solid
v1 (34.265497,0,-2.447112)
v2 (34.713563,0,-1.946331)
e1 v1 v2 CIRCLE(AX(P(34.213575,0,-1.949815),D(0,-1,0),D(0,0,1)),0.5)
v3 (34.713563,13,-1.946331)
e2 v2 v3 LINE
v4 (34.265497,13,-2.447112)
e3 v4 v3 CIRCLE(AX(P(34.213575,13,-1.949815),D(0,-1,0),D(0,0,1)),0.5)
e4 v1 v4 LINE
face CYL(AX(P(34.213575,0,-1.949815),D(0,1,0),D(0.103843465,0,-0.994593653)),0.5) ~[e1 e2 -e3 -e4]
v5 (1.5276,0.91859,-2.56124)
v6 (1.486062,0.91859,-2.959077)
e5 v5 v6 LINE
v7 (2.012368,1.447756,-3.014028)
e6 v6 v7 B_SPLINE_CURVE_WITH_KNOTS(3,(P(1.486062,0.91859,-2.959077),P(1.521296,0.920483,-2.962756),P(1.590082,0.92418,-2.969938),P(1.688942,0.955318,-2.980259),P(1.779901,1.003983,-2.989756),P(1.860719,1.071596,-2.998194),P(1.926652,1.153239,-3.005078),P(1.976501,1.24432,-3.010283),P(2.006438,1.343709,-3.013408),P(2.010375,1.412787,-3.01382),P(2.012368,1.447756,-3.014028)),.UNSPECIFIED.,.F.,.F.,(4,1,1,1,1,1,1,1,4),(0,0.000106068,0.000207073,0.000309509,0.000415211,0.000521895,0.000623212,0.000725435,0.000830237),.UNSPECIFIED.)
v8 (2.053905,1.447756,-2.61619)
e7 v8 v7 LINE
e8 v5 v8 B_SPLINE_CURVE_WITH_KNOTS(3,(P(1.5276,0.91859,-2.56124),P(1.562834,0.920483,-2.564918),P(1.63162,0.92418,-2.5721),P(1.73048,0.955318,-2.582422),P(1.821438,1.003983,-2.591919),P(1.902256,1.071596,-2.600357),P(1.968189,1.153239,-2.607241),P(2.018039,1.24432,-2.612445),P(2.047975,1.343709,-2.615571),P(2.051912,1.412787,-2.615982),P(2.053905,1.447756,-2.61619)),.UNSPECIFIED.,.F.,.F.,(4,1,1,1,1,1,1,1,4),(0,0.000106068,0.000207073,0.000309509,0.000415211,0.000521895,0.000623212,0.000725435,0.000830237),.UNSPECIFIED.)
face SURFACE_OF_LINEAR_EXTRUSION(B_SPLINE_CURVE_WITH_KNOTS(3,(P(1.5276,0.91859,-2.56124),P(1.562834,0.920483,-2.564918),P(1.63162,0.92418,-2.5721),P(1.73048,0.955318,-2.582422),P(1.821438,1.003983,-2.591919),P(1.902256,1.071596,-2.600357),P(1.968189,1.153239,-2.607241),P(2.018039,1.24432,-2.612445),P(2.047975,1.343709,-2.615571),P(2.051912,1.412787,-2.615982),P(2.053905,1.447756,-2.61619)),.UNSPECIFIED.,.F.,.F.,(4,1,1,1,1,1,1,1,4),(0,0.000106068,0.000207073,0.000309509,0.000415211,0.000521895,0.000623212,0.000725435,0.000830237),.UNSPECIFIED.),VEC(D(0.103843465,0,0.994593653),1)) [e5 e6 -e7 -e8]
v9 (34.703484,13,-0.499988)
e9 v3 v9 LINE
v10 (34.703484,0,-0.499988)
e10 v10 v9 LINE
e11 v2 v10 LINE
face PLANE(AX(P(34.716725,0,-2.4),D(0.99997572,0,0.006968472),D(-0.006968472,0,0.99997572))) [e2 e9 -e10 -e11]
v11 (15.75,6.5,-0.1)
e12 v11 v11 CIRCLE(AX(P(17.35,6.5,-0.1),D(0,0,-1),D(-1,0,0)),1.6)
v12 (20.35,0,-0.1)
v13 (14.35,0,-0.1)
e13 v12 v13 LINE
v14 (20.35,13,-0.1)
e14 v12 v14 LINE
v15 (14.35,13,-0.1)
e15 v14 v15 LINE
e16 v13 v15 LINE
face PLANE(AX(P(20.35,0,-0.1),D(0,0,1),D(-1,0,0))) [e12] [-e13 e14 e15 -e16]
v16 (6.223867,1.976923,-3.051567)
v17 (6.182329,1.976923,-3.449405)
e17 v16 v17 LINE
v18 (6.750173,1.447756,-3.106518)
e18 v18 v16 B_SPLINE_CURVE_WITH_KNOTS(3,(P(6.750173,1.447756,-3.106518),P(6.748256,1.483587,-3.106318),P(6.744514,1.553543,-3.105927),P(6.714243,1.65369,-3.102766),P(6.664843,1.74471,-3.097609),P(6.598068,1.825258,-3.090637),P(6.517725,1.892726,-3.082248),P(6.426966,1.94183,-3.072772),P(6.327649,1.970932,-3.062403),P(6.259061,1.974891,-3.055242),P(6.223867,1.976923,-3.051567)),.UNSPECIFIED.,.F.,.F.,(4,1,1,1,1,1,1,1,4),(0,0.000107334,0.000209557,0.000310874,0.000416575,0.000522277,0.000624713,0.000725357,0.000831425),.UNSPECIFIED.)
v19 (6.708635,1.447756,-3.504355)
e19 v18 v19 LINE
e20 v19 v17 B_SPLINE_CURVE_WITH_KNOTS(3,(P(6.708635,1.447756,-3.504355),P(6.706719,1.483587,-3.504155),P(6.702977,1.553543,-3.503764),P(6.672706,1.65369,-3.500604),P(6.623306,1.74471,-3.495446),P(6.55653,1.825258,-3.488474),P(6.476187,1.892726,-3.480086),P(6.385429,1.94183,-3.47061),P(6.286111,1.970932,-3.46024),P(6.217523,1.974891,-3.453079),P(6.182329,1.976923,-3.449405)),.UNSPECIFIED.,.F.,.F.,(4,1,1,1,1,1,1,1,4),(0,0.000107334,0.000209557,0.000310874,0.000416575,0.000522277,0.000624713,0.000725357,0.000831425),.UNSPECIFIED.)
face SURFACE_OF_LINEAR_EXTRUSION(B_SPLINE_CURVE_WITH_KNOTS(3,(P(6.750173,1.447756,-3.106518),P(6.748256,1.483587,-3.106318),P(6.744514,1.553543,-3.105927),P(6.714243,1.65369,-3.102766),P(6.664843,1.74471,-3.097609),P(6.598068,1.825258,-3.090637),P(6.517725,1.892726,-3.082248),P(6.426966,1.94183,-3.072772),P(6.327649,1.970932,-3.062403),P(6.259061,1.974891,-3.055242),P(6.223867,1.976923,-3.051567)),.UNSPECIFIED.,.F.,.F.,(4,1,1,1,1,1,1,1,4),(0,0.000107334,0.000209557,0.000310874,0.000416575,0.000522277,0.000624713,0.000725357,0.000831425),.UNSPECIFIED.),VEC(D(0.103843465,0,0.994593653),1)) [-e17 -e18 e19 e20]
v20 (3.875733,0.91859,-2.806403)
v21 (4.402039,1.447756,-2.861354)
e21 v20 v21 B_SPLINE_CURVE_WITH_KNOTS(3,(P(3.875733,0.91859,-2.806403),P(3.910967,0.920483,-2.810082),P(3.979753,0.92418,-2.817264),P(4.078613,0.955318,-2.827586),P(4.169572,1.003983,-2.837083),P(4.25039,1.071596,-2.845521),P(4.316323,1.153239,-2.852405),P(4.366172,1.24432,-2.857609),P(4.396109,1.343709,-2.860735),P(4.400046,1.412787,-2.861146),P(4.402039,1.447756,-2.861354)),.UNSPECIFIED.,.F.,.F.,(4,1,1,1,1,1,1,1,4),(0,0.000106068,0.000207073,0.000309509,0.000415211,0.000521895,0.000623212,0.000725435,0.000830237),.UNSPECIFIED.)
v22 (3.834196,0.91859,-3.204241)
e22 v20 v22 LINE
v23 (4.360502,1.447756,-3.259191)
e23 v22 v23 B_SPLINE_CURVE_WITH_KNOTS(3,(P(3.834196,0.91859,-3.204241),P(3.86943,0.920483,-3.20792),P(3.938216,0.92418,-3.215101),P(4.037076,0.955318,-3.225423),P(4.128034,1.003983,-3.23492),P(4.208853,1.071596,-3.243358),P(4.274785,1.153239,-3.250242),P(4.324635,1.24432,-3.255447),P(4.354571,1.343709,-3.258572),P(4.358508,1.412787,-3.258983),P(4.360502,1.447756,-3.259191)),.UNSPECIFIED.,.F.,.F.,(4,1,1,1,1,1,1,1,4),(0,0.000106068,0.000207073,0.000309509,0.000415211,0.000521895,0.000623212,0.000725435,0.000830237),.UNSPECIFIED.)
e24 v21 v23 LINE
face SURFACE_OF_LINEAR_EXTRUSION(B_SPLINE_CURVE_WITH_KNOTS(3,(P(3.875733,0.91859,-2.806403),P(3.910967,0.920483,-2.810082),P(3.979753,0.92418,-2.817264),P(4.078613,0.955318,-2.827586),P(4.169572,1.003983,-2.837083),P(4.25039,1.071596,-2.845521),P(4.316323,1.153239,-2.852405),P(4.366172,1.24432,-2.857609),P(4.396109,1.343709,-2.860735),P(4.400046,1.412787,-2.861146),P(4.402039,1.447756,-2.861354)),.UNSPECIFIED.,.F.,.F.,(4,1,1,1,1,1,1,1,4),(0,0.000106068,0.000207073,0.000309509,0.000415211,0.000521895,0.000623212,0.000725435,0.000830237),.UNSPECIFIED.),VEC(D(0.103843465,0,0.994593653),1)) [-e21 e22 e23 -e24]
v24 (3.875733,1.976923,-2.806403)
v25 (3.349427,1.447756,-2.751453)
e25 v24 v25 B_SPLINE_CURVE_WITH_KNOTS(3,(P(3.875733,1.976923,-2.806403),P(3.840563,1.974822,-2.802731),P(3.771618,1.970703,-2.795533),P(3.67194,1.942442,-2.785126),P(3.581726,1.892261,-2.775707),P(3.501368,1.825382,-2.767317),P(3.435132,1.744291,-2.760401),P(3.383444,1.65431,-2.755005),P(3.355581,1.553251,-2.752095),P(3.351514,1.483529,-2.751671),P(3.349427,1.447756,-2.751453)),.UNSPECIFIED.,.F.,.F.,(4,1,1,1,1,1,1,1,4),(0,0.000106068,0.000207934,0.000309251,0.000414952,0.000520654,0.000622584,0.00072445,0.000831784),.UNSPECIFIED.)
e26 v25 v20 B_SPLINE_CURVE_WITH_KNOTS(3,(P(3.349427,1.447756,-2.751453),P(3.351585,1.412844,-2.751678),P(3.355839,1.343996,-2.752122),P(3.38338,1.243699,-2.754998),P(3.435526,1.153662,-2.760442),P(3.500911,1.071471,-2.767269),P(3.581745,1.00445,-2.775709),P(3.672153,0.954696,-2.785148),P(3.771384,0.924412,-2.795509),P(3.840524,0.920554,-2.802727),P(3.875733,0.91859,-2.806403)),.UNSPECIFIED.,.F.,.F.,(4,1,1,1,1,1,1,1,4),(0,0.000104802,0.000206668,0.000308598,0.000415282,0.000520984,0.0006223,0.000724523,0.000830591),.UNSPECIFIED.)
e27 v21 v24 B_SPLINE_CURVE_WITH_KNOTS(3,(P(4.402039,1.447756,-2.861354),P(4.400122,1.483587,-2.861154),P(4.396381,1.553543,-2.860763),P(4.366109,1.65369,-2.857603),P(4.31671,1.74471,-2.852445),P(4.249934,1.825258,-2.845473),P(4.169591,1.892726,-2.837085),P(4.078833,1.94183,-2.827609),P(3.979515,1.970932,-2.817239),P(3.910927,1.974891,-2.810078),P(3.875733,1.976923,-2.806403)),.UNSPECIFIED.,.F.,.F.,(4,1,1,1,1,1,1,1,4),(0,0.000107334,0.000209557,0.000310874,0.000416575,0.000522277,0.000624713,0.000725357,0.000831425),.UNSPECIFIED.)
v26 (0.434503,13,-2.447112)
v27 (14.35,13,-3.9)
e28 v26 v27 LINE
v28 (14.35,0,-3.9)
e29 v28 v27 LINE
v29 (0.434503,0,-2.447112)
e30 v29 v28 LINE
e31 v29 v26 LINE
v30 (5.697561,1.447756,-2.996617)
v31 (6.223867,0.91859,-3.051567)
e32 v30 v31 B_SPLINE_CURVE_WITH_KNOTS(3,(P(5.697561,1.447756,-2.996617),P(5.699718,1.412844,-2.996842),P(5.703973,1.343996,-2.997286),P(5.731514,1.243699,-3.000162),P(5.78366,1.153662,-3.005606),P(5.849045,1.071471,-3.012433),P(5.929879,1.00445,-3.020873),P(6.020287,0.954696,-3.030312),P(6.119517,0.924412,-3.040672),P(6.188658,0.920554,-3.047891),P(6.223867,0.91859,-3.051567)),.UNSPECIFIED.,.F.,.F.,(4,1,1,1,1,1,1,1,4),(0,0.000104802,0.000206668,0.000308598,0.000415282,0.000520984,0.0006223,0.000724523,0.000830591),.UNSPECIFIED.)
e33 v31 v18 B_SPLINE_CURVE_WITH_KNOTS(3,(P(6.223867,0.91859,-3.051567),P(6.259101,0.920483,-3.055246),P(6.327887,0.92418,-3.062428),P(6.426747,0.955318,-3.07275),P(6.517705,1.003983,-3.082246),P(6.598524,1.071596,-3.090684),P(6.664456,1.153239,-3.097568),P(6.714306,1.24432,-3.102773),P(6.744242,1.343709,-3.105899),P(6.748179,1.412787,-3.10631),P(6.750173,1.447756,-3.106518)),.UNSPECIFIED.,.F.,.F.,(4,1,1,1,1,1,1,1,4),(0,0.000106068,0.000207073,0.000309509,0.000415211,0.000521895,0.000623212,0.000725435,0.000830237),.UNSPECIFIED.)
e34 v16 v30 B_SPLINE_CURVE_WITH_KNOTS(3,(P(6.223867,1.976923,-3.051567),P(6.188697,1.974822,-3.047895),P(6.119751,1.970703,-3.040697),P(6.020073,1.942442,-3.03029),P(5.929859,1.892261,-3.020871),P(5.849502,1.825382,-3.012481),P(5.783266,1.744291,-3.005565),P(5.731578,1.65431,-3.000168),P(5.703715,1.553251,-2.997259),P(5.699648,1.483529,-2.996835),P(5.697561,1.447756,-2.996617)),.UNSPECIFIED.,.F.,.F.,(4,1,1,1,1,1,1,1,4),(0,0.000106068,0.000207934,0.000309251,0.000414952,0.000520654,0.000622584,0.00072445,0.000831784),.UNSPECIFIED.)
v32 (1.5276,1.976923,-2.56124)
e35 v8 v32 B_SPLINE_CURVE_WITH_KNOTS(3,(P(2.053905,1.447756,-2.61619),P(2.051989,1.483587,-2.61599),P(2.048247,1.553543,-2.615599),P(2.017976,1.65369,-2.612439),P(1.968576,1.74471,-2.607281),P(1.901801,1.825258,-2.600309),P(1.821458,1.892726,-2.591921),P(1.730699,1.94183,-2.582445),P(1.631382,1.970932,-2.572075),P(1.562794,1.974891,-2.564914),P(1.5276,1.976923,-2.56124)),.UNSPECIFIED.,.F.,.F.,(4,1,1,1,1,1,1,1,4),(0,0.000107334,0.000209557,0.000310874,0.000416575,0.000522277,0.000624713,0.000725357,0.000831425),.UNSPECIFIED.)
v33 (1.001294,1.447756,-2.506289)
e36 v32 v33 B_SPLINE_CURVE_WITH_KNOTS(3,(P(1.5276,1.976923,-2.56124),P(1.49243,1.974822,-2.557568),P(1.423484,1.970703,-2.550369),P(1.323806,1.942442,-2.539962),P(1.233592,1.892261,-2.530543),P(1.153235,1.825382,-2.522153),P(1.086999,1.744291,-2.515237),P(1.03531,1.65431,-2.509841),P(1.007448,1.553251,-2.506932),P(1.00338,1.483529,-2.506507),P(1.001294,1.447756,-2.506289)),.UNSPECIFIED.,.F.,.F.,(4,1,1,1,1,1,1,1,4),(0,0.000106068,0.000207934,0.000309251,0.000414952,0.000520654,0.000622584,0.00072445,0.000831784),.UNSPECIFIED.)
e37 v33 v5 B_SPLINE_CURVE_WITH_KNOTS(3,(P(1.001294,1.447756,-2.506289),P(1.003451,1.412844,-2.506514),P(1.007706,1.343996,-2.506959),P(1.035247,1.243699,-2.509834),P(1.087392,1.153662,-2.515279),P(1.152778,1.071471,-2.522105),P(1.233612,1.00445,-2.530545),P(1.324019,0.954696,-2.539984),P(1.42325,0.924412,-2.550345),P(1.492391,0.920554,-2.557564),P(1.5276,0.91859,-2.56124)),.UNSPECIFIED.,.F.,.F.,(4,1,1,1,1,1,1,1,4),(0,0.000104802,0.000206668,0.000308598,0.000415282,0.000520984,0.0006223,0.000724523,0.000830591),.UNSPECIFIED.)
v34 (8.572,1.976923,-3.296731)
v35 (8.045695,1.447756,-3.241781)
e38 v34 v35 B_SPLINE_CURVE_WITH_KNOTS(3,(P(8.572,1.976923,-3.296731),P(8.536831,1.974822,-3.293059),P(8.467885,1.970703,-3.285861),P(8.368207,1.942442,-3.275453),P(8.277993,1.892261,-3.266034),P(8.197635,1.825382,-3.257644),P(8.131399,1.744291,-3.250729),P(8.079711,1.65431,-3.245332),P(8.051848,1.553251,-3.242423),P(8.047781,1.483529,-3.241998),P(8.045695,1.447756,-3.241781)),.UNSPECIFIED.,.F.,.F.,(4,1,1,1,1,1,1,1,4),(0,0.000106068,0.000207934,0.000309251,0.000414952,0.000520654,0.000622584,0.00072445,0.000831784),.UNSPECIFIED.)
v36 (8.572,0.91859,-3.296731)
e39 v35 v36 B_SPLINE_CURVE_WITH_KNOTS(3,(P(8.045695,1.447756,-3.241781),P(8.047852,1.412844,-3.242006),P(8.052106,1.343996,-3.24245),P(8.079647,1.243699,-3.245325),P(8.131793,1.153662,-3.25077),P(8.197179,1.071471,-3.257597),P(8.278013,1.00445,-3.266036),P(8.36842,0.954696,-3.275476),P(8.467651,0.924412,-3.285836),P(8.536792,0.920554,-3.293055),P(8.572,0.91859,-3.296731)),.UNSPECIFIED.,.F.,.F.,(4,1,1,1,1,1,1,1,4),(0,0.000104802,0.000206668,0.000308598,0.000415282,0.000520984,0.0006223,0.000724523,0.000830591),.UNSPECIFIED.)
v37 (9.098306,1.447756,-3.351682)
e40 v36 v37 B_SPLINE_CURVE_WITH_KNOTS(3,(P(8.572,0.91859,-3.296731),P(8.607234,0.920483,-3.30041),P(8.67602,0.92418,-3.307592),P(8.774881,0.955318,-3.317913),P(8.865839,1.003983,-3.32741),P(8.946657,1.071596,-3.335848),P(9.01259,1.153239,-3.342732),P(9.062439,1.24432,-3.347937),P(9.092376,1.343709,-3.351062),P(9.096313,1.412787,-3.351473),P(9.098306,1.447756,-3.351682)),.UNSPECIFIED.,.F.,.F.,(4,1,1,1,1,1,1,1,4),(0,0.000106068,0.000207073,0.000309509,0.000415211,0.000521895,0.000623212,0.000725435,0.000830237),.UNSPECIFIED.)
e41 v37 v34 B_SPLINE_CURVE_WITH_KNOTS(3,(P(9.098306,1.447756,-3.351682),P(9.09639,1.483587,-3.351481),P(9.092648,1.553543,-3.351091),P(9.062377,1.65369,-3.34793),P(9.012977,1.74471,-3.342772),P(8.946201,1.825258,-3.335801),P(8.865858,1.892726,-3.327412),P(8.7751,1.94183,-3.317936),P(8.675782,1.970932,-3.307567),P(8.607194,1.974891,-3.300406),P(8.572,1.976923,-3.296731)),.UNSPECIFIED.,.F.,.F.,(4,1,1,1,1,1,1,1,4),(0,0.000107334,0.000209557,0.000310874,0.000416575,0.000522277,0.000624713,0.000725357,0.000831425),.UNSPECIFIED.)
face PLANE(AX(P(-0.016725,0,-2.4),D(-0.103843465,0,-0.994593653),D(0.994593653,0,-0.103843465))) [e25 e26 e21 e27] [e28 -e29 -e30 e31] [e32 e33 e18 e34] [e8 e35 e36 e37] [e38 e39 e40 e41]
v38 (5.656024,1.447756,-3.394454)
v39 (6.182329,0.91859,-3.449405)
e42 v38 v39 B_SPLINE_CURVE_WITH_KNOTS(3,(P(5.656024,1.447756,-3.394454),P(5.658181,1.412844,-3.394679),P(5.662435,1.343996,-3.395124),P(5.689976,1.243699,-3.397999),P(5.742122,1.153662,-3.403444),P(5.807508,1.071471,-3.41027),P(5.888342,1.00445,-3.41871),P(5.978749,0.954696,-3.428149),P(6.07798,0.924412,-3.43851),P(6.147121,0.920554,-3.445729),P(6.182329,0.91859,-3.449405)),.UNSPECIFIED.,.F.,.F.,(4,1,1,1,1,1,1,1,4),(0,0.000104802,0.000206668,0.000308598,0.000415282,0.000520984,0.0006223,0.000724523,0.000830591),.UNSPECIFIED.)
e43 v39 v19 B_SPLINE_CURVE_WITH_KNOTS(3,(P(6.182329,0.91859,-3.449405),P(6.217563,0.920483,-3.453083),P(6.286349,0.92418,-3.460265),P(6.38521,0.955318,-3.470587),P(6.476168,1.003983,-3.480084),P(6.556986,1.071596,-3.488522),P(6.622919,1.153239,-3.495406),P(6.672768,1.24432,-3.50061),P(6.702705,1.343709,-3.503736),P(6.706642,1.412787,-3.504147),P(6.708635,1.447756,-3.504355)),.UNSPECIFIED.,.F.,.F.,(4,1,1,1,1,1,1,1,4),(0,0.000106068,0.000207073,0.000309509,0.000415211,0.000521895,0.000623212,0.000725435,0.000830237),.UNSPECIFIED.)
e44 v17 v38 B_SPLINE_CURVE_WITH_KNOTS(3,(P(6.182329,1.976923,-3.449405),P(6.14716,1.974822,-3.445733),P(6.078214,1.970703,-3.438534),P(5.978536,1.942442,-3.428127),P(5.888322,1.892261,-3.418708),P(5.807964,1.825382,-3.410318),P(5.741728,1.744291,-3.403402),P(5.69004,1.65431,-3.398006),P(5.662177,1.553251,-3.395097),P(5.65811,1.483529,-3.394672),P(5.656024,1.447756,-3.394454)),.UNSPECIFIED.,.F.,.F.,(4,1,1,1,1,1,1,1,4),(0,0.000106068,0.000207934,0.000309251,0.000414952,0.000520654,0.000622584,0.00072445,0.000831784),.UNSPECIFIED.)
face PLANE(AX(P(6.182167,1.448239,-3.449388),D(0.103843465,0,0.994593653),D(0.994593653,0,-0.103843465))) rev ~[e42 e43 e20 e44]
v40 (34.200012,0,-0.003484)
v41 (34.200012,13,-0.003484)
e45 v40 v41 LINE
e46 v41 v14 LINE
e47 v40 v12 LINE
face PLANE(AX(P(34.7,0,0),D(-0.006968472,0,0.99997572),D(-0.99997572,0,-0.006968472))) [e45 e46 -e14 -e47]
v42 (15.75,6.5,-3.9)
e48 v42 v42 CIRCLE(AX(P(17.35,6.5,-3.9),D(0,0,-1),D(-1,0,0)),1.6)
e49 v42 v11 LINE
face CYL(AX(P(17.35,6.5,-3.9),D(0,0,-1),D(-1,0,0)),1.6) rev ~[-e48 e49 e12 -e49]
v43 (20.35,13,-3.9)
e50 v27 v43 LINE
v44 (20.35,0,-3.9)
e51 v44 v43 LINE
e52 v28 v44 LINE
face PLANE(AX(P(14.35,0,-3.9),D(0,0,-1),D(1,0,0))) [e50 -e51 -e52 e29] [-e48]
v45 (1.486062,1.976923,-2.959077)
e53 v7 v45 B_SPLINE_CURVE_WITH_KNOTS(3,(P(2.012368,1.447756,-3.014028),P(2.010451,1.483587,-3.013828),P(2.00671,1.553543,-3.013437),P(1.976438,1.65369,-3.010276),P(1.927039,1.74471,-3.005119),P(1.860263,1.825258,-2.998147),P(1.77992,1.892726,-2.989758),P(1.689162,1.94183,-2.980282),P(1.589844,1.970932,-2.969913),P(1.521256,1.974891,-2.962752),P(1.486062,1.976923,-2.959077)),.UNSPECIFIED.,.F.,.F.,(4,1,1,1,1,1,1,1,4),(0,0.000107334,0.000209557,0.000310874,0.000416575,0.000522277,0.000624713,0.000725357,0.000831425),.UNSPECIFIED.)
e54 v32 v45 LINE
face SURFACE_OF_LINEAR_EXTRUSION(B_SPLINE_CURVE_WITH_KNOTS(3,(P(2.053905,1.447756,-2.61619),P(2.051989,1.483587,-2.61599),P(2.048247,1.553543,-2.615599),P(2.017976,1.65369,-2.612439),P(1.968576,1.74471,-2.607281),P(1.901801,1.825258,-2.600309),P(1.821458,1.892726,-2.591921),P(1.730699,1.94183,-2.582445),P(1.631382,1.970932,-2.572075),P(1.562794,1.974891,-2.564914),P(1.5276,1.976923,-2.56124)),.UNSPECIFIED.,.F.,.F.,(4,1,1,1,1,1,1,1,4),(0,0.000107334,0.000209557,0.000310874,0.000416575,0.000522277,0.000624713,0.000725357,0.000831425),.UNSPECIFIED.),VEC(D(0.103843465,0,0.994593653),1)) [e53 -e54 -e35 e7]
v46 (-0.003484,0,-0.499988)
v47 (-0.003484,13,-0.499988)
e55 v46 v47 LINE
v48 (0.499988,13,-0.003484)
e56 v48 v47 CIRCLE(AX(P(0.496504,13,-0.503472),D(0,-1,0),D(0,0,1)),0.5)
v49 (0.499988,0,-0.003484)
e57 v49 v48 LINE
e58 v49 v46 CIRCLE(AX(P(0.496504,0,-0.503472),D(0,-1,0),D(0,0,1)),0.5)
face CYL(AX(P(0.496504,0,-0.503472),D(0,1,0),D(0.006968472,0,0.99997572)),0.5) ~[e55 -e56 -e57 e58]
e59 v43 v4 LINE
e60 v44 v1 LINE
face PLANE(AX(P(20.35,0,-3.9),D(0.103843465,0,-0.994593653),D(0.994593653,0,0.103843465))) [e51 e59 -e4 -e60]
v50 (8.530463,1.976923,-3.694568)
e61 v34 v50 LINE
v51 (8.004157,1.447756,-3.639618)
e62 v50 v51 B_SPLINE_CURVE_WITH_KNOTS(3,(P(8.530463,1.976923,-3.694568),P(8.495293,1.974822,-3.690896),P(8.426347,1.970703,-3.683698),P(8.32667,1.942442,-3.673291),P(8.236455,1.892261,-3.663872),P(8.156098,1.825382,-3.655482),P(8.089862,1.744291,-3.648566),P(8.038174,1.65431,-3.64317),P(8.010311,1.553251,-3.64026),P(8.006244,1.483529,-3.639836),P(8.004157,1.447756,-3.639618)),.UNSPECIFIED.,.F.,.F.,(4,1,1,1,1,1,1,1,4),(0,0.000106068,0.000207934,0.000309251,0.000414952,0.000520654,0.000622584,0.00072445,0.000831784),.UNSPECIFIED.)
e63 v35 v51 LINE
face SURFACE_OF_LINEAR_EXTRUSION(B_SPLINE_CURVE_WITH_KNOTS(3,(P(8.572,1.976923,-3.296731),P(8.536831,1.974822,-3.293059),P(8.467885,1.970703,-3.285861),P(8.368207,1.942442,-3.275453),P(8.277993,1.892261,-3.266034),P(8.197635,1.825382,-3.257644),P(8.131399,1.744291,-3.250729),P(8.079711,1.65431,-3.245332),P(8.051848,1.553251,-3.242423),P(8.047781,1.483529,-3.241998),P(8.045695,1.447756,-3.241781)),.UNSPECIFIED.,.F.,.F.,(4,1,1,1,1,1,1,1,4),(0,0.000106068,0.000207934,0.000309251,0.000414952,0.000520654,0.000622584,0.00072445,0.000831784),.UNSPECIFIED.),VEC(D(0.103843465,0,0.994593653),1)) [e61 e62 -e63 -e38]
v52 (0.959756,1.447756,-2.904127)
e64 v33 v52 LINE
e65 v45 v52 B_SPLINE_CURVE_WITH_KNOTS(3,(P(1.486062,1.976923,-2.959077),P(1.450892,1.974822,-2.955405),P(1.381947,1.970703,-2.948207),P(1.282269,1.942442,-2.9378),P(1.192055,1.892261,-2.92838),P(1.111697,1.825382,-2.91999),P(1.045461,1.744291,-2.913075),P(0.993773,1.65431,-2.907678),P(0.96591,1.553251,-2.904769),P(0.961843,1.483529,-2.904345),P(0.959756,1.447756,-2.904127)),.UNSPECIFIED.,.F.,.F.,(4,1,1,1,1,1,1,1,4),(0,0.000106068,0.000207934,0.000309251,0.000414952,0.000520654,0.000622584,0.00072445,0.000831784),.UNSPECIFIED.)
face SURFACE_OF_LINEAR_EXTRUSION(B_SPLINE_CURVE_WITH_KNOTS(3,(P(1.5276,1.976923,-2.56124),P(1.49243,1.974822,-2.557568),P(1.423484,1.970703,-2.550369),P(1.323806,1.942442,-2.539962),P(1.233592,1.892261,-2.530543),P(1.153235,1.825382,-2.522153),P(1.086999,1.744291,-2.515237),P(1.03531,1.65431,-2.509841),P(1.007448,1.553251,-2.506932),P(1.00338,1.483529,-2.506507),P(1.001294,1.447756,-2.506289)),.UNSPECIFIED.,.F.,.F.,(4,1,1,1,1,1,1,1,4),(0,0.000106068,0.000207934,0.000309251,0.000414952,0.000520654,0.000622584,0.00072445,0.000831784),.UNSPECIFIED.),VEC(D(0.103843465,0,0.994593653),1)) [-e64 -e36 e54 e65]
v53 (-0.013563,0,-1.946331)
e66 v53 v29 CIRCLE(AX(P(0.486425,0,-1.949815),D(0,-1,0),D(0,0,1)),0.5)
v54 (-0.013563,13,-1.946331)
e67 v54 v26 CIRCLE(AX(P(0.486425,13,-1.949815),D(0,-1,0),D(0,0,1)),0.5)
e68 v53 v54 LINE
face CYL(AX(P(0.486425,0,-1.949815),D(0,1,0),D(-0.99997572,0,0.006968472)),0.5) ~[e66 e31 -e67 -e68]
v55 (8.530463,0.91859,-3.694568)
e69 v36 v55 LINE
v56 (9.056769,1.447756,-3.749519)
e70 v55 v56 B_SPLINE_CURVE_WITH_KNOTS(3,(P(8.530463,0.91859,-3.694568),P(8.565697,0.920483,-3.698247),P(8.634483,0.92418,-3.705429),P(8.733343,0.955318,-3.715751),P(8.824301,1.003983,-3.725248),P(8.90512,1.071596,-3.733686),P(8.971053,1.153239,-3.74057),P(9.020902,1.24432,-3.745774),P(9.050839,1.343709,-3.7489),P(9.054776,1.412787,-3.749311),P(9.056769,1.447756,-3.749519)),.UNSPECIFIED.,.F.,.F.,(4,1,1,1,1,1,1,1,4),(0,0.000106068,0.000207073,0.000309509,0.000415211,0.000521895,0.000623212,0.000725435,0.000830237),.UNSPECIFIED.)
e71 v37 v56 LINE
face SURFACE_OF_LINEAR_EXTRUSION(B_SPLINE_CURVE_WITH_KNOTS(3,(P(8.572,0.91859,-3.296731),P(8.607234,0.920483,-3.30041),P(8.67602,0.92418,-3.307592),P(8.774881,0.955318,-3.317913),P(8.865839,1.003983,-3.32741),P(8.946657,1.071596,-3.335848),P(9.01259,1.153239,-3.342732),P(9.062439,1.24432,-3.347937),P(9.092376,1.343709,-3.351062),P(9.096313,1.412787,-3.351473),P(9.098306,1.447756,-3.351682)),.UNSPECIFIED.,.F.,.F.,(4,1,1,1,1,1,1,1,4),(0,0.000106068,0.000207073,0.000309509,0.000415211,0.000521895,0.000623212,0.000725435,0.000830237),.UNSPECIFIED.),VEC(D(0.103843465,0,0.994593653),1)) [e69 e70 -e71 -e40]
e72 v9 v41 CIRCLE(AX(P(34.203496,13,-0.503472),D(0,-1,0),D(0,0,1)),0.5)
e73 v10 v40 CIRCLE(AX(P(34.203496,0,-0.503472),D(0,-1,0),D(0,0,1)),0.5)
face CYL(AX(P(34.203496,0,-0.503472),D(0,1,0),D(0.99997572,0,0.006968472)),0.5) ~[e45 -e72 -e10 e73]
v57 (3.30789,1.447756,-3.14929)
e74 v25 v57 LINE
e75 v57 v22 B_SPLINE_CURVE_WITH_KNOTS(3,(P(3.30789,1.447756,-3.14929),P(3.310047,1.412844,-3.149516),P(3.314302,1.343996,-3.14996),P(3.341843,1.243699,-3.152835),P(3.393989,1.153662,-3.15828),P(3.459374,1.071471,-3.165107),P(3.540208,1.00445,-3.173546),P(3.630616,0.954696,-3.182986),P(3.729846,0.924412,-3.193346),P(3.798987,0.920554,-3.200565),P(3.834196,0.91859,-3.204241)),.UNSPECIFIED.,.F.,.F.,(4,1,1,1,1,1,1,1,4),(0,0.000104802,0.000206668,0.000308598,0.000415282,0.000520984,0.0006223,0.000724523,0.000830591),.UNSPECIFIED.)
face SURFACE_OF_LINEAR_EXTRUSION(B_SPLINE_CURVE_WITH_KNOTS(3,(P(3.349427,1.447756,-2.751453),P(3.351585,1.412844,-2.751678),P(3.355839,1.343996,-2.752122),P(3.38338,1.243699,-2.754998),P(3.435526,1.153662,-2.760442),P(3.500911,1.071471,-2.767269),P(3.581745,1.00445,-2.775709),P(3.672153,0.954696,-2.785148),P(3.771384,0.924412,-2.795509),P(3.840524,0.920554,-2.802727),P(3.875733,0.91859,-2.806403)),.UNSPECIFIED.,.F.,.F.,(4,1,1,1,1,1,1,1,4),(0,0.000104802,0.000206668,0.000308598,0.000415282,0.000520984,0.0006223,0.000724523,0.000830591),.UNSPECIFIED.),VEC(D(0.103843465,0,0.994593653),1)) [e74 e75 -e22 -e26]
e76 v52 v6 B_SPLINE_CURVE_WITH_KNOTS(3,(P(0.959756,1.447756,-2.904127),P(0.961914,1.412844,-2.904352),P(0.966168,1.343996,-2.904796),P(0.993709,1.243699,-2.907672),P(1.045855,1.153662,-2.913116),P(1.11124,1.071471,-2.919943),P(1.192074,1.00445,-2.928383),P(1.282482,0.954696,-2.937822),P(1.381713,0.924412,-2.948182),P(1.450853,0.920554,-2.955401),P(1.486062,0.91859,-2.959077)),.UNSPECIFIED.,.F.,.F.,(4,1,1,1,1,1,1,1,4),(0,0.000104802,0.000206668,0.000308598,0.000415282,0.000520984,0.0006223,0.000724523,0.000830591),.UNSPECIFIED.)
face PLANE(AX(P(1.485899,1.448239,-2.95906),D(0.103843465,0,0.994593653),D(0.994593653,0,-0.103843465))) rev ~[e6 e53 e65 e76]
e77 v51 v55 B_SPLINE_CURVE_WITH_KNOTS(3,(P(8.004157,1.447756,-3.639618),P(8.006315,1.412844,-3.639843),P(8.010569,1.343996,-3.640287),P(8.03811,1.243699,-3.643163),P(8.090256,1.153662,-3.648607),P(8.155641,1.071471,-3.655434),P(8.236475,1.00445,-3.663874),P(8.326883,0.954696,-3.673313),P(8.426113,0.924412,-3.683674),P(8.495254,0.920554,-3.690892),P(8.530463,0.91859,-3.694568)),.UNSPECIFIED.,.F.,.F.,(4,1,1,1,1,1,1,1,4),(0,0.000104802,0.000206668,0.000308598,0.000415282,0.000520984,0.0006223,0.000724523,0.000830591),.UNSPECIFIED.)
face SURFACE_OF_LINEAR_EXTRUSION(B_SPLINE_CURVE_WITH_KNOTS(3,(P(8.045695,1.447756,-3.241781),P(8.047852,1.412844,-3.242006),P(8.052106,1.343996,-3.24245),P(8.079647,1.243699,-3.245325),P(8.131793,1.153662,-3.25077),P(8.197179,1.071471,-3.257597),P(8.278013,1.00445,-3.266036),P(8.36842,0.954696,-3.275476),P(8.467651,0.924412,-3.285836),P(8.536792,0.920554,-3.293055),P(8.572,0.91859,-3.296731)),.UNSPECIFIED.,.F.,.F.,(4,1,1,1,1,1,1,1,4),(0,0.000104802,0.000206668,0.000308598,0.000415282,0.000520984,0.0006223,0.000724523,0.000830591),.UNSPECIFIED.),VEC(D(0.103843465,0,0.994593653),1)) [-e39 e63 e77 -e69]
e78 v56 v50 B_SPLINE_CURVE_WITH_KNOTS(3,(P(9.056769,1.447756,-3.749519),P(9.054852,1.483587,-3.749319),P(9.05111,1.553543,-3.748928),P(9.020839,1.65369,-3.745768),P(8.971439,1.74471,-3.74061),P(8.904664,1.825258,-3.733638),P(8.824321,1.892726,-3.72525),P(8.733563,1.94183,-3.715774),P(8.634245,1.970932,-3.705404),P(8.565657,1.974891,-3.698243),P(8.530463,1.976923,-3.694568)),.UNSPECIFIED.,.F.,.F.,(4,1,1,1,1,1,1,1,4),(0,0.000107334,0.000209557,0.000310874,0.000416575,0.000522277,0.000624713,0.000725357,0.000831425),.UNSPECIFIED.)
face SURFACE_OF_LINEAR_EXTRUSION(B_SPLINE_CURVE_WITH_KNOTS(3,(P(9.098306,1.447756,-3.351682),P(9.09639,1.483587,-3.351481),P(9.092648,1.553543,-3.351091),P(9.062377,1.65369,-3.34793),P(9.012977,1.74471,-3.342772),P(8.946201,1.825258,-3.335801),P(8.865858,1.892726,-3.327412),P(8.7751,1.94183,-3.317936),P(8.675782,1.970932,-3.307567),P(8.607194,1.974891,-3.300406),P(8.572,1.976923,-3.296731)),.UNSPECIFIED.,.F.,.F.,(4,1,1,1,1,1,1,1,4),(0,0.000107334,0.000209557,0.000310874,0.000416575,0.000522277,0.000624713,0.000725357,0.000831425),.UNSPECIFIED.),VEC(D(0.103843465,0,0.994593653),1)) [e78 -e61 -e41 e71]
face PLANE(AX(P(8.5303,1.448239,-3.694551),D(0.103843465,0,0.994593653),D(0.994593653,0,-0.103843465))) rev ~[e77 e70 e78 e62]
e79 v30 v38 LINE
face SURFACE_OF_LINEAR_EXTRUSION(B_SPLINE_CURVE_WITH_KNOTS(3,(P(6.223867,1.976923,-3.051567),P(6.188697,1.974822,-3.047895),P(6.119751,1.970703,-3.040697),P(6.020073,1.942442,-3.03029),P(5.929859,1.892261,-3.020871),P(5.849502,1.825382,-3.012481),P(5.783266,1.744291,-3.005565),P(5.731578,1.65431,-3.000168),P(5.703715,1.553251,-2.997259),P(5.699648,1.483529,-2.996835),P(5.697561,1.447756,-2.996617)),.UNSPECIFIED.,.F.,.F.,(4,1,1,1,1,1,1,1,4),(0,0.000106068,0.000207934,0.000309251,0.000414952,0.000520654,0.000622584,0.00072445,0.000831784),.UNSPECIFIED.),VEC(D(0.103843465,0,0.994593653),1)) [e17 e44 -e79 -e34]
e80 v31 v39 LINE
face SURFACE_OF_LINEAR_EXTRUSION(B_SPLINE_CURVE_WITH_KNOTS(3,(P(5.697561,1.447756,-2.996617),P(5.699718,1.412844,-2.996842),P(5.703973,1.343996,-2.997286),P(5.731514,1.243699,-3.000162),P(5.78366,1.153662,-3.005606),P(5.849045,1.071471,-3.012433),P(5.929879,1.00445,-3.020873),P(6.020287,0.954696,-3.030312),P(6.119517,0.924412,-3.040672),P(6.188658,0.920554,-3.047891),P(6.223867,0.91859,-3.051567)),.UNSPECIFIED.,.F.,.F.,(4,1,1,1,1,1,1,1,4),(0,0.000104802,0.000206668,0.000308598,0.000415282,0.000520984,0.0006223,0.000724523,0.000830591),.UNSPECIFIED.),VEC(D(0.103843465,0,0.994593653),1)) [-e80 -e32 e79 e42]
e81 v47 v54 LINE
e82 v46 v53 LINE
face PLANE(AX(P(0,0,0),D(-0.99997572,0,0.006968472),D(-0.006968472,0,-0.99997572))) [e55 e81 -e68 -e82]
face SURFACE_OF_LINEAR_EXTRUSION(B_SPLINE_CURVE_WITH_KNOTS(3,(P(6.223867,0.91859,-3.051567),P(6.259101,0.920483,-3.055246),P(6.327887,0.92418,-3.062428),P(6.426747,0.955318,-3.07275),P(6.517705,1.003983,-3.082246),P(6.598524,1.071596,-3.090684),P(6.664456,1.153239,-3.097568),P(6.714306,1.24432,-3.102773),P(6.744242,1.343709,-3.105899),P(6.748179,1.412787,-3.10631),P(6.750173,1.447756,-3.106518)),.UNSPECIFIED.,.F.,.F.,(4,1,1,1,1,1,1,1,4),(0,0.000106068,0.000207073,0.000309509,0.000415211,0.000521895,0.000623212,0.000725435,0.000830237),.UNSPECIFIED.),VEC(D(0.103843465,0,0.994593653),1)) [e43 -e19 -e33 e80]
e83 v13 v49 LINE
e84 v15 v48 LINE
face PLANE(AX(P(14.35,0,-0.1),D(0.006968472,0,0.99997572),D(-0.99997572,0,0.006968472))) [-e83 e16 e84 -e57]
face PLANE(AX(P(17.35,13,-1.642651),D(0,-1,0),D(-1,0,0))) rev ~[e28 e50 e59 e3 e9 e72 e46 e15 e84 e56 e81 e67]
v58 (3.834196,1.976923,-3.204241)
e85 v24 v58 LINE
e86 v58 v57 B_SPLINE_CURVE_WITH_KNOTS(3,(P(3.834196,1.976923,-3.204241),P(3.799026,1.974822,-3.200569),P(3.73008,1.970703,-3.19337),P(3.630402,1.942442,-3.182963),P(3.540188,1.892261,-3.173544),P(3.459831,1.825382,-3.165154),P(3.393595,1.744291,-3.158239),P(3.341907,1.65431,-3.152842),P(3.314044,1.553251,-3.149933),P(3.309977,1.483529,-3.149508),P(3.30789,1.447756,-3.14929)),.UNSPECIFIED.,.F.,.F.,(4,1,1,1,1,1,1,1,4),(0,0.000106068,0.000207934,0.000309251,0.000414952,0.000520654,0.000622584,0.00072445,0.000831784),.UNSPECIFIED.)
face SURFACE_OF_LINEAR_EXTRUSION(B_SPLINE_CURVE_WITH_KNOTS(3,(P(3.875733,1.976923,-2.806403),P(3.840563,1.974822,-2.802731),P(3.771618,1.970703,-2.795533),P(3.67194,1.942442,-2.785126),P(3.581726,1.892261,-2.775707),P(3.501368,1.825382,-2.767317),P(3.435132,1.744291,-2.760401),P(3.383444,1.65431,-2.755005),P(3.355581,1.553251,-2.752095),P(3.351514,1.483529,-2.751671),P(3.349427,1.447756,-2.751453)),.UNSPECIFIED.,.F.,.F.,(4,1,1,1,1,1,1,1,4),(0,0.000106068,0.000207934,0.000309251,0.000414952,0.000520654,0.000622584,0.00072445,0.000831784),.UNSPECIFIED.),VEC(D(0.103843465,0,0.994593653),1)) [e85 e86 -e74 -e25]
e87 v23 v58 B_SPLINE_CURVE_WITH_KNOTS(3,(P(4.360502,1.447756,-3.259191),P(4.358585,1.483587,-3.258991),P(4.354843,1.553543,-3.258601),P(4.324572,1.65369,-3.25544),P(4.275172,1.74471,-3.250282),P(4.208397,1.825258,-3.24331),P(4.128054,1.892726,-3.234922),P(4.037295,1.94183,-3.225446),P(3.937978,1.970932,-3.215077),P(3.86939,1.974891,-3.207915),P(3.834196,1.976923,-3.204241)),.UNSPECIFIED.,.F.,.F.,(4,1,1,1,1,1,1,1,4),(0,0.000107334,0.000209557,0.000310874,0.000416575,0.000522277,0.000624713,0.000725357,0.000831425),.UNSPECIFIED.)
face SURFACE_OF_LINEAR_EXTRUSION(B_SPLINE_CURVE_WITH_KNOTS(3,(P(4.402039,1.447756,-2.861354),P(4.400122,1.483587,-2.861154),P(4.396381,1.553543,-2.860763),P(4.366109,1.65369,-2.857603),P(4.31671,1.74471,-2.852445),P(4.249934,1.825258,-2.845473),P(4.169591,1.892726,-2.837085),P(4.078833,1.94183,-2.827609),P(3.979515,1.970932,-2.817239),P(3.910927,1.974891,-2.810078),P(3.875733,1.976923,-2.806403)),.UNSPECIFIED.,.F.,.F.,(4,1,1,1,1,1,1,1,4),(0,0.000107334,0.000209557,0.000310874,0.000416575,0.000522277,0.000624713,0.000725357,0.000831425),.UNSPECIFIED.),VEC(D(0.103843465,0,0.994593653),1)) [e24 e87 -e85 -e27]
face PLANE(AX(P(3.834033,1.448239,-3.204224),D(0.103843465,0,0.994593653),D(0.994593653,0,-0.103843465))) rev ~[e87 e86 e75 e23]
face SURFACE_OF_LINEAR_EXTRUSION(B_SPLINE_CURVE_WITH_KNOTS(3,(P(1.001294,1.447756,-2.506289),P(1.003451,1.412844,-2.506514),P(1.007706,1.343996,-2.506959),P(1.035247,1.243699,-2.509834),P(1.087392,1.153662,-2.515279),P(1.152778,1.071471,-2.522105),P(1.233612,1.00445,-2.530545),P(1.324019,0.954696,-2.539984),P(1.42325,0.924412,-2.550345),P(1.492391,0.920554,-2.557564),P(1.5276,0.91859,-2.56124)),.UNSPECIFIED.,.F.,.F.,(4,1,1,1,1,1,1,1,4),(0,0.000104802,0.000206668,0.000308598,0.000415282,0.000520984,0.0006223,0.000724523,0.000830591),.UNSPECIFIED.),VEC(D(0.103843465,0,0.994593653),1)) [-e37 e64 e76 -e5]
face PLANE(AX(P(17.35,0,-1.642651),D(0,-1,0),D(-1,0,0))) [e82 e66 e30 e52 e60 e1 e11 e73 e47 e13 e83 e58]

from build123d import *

# Parameters (mm, degrees)
BOSS_EXTRUDE1_DEPTH       = 13
FILLET2_R                 = 0.5
SKETCH2_R                 = 1.6
CUT_EXTRUDE1_DEPTH        = 4.896527904
REVISION_INDICATION_DEPTH = 0.4


with BuildPart() as part:
    # Sketch1 → Boss-Extrude1 (new body)
    with BuildSketch(Plane(origin=(0, 0, 0), x_dir=(1, 0, 0), z_dir=(0, 1, 0))):
        Polygon((20.35, 0.1), (14.35, 0.1), (0, 0), (-0.016724739, 2.4), (14.35, 3.9), (20.35, 3.9), (34.716724739, 2.4), (34.7, 0), align=None)
    extrude(amount=BOSS_EXTRUDE1_DEPTH)

    # Fillet2
    fillet2_edges = [part.edges().sort_by_distance(p)[0] for p in [
        (-0.016724739, 6.5, -2.4),
        (34.716724739, 6.5, -2.4),
        (34.7, 6.5, 0),
        (0, 6.5, 0),
    ]]
    fillet(fillet2_edges, radius=FILLET2_R)

    # Sketch2 → Cut-Extrude1 (cut, through all)
    with BuildSketch(Plane(origin=(0, 0, -3.9), x_dir=(-1, 0, 0), z_dir=(0, 0, -1))):
        with Locations((-17.35, 6.5)):
            Circle(SKETCH2_R)
    extrude(amount=-CUT_EXTRUDE1_DEPTH, mode=Mode.SUBTRACT)

    # Sketch5 → revision indication (add)
    with BuildSketch(Plane(origin=(-0.248057274, 0, -2.375847049), x_dir=(-0.994593653, 0, 0.103843465), z_dir=(-0.103843465, 0, -0.994593653))):
        with BuildLine():
            add(Edge.make_bspline(
                [(-1.785308798, 1.976923077), (-1.749947985, 1.974821832), (-1.680627244, 1.970702586), (-1.580407683, 1.942442049), (-1.489703086, 1.892261337), (-1.40890887, 1.825381725), (-1.342312834, 1.744291021), (-1.290343795, 1.654309873), (-1.262329436, 1.553251269), (-1.258240196, 1.483528859), (-1.256142132, 1.44775641)],
                knots=[0, 0, 0, 0, 0.000106068, 0.000207934, 0.000309251, 0.000414952, 0.000520654, 0.000622584, 0.00072445, 0.000831784, 0.000831784, 0.000831784, 0.000831784], degree=3))
            add(Edge.make_bspline(
                [(-1.256142132, 1.44775641), (-1.258311293, 1.412843512), (-1.262588847, 1.343995789), (-1.290279579, 1.243699421), (-1.342708899, 1.153662038), (-1.408449529, 1.071471016), (-1.489723058, 1.004449722), (-1.580622123, 0.954695939), (-1.680391977, 0.924411918), (-1.749908735, 0.920554208), (-1.785308798, 0.918589744)],
                knots=[0, 0, 0, 0, 0.000104802, 0.000206668, 0.000308598, 0.000415282, 0.000520984, 0.0006223, 0.000724523, 0.000830591, 0.000830591, 0.000830591, 0.000830591], degree=3))
            add(Edge.make_bspline(
                [(-1.785308798, 0.918589744), (-1.82073437, 0.920483127), (-1.889894366, 0.924179507), (-1.989291812, 0.955317742), (-2.080744455, 1.003983162), (-2.162002161, 1.071595984), (-2.228293388, 1.153239101), (-2.278413725, 1.244319503), (-2.308512996, 1.343708683), (-2.312471536, 1.412786963), (-2.314475465, 1.44775641)],
                knots=[0, 0, 0, 0, 0.000106068, 0.000207073, 0.000309509, 0.000415211, 0.000521895, 0.000623212, 0.000725435, 0.000830237, 0.000830237, 0.000830237, 0.000830237], degree=3))
            add(Edge.make_bspline(
                [(-2.314475465, 1.44775641), (-2.312548513, 1.483587428), (-2.308786377, 1.553543092), (-2.278350536, 1.653690044), (-2.228682266, 1.744709926), (-2.161543907, 1.825258007), (-2.080764113, 1.892726399), (-1.989512426, 1.941829667), (-1.889654975, 1.970931558), (-1.820694086, 1.974891267), (-1.785308798, 1.976923077)],
                knots=[0, 0, 0, 0, 0.000107334, 0.000209557, 0.000310874, 0.000416575, 0.000522277, 0.000624713, 0.000725357, 0.000831425, 0.000831425, 0.000831425, 0.000831425], degree=3))
        make_face()
        with BuildLine():
            add(Edge.make_bspline(
                [(-4.146206234, 1.976923077), (-4.110845421, 1.974821832), (-4.04152468, 1.970702586), (-3.941305118, 1.942442049), (-3.850600522, 1.892261337), (-3.769806306, 1.825381725), (-3.70321027, 1.744291021), (-3.651241231, 1.654309873), (-3.623226872, 1.553251269), (-3.619137632, 1.483528859), (-3.617039568, 1.44775641)],
                knots=[0, 0, 0, 0, 0.000106068, 0.000207934, 0.000309251, 0.000414952, 0.000520654, 0.000622584, 0.00072445, 0.000831784, 0.000831784, 0.000831784, 0.000831784], degree=3))
            add(Edge.make_bspline(
                [(-3.617039568, 1.44775641), (-3.619208729, 1.412843512), (-3.623486283, 1.343995789), (-3.651177015, 1.243699421), (-3.703606335, 1.153662038), (-3.769346965, 1.071471016), (-3.850620494, 1.004449722), (-3.941519559, 0.954695939), (-4.041289413, 0.924411918), (-4.110806171, 0.920554208), (-4.146206234, 0.918589744)],
                knots=[0, 0, 0, 0, 0.000104802, 0.000206668, 0.000308598, 0.000415282, 0.000520984, 0.0006223, 0.000724523, 0.000830591, 0.000830591, 0.000830591, 0.000830591], degree=3))
            add(Edge.make_bspline(
                [(-4.146206234, 0.918589744), (-4.181631806, 0.920483127), (-4.250791802, 0.924179507), (-4.350189248, 0.955317742), (-4.441641891, 1.003983162), (-4.522899597, 1.071595984), (-4.589190824, 1.153239101), (-4.639311161, 1.244319503), (-4.669410431, 1.343708683), (-4.673368972, 1.412786963), (-4.675372901, 1.44775641)],
                knots=[0, 0, 0, 0, 0.000106068, 0.000207073, 0.000309509, 0.000415211, 0.000521895, 0.000623212, 0.000725435, 0.000830237, 0.000830237, 0.000830237, 0.000830237], degree=3))
            add(Edge.make_bspline(
                [(-4.675372901, 1.44775641), (-4.673445949, 1.483587428), (-4.669683813, 1.553543092), (-4.639247972, 1.653690044), (-4.589579702, 1.744709926), (-4.522441343, 1.825258007), (-4.441661549, 1.892726399), (-4.350409862, 1.941829667), (-4.25055241, 1.970931558), (-4.181591522, 1.974891267), (-4.146206234, 1.976923077)],
                knots=[0, 0, 0, 0, 0.000107334, 0.000209557, 0.000310874, 0.000416575, 0.000522277, 0.000624713, 0.000725357, 0.000831425, 0.000831425, 0.000831425, 0.000831425], degree=3))
        make_face()
        with BuildLine():
            add(Edge.make_bspline(
                [(-6.50710367, 1.976923077), (-6.471742857, 1.974821832), (-6.402422116, 1.970702586), (-6.302202554, 1.942442049), (-6.211497957, 1.892261337), (-6.130703742, 1.825381725), (-6.064107706, 1.744291021), (-6.012138667, 1.654309873), (-5.984124308, 1.553251269), (-5.980035068, 1.483528859), (-5.977937003, 1.44775641)],
                knots=[0, 0, 0, 0, 0.000106068, 0.000207934, 0.000309251, 0.000414952, 0.000520654, 0.000622584, 0.00072445, 0.000831784, 0.000831784, 0.000831784, 0.000831784], degree=3))
            add(Edge.make_bspline(
                [(-5.977937003, 1.44775641), (-5.980106165, 1.412843512), (-5.984383719, 1.343995789), (-6.012074451, 1.243699421), (-6.064503771, 1.153662038), (-6.130244401, 1.071471016), (-6.21151793, 1.004449722), (-6.302416994, 0.954695939), (-6.402186849, 0.924411918), (-6.471703607, 0.920554208), (-6.50710367, 0.918589744)],
                knots=[0, 0, 0, 0, 0.000104802, 0.000206668, 0.000308598, 0.000415282, 0.000520984, 0.0006223, 0.000724523, 0.000830591, 0.000830591, 0.000830591, 0.000830591], degree=3))
            add(Edge.make_bspline(
                [(-6.50710367, 0.918589744), (-6.542529242, 0.920483127), (-6.611689237, 0.924179507), (-6.711086684, 0.955317742), (-6.802539327, 1.003983162), (-6.883797033, 1.071595984), (-6.95008826, 1.153239101), (-7.000208597, 1.244319503), (-7.030307867, 1.343708683), (-7.034266408, 1.412786963), (-7.036270337, 1.44775641)],
                knots=[0, 0, 0, 0, 0.000106068, 0.000207073, 0.000309509, 0.000415211, 0.000521895, 0.000623212, 0.000725435, 0.000830237, 0.000830237, 0.000830237, 0.000830237], degree=3))
            add(Edge.make_bspline(
                [(-7.036270337, 1.44775641), (-7.034343385, 1.483587428), (-7.030581249, 1.553543092), (-7.000145408, 1.653690044), (-6.950477138, 1.744709926), (-6.883338779, 1.825258007), (-6.802558985, 1.892726399), (-6.711307298, 1.941829667), (-6.611449846, 1.970931558), (-6.542488958, 1.974891267), (-6.50710367, 1.976923077)],
                knots=[0, 0, 0, 0, 0.000107334, 0.000209557, 0.000310874, 0.000416575, 0.000522277, 0.000624713, 0.000725357, 0.000831425, 0.000831425, 0.000831425, 0.000831425], degree=3))
        make_face()
        with BuildLine():
            add(Edge.make_bspline(
                [(-8.868001106, 1.976923077), (-8.832640293, 1.974821832), (-8.763319552, 1.970702586), (-8.66309999, 1.942442049), (-8.572395393, 1.892261337), (-8.491601178, 1.825381725), (-8.425005142, 1.744291021), (-8.373036103, 1.654309873), (-8.345021744, 1.553251269), (-8.340932504, 1.483528859), (-8.338834439, 1.44775641)],
                knots=[0, 0, 0, 0, 0.000106068, 0.000207934, 0.000309251, 0.000414952, 0.000520654, 0.000622584, 0.00072445, 0.000831784, 0.000831784, 0.000831784, 0.000831784], degree=3))
            add(Edge.make_bspline(
                [(-8.338834439, 1.44775641), (-8.341003601, 1.412843512), (-8.345281155, 1.343995789), (-8.372971887, 1.243699421), (-8.425401207, 1.153662038), (-8.491141837, 1.071471016), (-8.572415366, 1.004449722), (-8.66331443, 0.954695939), (-8.763084284, 0.924411918), (-8.832601042, 0.920554208), (-8.868001106, 0.918589744)],
                knots=[0, 0, 0, 0, 0.000104802, 0.000206668, 0.000308598, 0.000415282, 0.000520984, 0.0006223, 0.000724523, 0.000830591, 0.000830591, 0.000830591, 0.000830591], degree=3))
            add(Edge.make_bspline(
                [(-8.868001106, 0.918589744), (-8.903426678, 0.920483127), (-8.972586673, 0.924179507), (-9.07198412, 0.955317742), (-9.163436763, 1.003983162), (-9.244694469, 1.071595984), (-9.310985696, 1.153239101), (-9.361106033, 1.244319503), (-9.391205303, 1.343708683), (-9.395163844, 1.412786963), (-9.397167773, 1.44775641)],
                knots=[0, 0, 0, 0, 0.000106068, 0.000207073, 0.000309509, 0.000415211, 0.000521895, 0.000623212, 0.000725435, 0.000830237, 0.000830237, 0.000830237, 0.000830237], degree=3))
            add(Edge.make_bspline(
                [(-9.397167773, 1.44775641), (-9.395240821, 1.483587428), (-9.391478685, 1.553543092), (-9.361042844, 1.653690044), (-9.311374574, 1.744709926), (-9.244236214, 1.825258007), (-9.16345642, 1.892726399), (-9.072204734, 1.941829667), (-8.972347282, 1.970931558), (-8.903386394, 1.974891267), (-8.868001106, 1.976923077)],
                knots=[0, 0, 0, 0, 0.000107334, 0.000209557, 0.000310874, 0.000416575, 0.000522277, 0.000624713, 0.000725357, 0.000831425, 0.000831425, 0.000831425, 0.000831425], degree=3))
        make_face()
    extrude(amount=REVISION_INDICATION_DEPTH)


solid = part.part
